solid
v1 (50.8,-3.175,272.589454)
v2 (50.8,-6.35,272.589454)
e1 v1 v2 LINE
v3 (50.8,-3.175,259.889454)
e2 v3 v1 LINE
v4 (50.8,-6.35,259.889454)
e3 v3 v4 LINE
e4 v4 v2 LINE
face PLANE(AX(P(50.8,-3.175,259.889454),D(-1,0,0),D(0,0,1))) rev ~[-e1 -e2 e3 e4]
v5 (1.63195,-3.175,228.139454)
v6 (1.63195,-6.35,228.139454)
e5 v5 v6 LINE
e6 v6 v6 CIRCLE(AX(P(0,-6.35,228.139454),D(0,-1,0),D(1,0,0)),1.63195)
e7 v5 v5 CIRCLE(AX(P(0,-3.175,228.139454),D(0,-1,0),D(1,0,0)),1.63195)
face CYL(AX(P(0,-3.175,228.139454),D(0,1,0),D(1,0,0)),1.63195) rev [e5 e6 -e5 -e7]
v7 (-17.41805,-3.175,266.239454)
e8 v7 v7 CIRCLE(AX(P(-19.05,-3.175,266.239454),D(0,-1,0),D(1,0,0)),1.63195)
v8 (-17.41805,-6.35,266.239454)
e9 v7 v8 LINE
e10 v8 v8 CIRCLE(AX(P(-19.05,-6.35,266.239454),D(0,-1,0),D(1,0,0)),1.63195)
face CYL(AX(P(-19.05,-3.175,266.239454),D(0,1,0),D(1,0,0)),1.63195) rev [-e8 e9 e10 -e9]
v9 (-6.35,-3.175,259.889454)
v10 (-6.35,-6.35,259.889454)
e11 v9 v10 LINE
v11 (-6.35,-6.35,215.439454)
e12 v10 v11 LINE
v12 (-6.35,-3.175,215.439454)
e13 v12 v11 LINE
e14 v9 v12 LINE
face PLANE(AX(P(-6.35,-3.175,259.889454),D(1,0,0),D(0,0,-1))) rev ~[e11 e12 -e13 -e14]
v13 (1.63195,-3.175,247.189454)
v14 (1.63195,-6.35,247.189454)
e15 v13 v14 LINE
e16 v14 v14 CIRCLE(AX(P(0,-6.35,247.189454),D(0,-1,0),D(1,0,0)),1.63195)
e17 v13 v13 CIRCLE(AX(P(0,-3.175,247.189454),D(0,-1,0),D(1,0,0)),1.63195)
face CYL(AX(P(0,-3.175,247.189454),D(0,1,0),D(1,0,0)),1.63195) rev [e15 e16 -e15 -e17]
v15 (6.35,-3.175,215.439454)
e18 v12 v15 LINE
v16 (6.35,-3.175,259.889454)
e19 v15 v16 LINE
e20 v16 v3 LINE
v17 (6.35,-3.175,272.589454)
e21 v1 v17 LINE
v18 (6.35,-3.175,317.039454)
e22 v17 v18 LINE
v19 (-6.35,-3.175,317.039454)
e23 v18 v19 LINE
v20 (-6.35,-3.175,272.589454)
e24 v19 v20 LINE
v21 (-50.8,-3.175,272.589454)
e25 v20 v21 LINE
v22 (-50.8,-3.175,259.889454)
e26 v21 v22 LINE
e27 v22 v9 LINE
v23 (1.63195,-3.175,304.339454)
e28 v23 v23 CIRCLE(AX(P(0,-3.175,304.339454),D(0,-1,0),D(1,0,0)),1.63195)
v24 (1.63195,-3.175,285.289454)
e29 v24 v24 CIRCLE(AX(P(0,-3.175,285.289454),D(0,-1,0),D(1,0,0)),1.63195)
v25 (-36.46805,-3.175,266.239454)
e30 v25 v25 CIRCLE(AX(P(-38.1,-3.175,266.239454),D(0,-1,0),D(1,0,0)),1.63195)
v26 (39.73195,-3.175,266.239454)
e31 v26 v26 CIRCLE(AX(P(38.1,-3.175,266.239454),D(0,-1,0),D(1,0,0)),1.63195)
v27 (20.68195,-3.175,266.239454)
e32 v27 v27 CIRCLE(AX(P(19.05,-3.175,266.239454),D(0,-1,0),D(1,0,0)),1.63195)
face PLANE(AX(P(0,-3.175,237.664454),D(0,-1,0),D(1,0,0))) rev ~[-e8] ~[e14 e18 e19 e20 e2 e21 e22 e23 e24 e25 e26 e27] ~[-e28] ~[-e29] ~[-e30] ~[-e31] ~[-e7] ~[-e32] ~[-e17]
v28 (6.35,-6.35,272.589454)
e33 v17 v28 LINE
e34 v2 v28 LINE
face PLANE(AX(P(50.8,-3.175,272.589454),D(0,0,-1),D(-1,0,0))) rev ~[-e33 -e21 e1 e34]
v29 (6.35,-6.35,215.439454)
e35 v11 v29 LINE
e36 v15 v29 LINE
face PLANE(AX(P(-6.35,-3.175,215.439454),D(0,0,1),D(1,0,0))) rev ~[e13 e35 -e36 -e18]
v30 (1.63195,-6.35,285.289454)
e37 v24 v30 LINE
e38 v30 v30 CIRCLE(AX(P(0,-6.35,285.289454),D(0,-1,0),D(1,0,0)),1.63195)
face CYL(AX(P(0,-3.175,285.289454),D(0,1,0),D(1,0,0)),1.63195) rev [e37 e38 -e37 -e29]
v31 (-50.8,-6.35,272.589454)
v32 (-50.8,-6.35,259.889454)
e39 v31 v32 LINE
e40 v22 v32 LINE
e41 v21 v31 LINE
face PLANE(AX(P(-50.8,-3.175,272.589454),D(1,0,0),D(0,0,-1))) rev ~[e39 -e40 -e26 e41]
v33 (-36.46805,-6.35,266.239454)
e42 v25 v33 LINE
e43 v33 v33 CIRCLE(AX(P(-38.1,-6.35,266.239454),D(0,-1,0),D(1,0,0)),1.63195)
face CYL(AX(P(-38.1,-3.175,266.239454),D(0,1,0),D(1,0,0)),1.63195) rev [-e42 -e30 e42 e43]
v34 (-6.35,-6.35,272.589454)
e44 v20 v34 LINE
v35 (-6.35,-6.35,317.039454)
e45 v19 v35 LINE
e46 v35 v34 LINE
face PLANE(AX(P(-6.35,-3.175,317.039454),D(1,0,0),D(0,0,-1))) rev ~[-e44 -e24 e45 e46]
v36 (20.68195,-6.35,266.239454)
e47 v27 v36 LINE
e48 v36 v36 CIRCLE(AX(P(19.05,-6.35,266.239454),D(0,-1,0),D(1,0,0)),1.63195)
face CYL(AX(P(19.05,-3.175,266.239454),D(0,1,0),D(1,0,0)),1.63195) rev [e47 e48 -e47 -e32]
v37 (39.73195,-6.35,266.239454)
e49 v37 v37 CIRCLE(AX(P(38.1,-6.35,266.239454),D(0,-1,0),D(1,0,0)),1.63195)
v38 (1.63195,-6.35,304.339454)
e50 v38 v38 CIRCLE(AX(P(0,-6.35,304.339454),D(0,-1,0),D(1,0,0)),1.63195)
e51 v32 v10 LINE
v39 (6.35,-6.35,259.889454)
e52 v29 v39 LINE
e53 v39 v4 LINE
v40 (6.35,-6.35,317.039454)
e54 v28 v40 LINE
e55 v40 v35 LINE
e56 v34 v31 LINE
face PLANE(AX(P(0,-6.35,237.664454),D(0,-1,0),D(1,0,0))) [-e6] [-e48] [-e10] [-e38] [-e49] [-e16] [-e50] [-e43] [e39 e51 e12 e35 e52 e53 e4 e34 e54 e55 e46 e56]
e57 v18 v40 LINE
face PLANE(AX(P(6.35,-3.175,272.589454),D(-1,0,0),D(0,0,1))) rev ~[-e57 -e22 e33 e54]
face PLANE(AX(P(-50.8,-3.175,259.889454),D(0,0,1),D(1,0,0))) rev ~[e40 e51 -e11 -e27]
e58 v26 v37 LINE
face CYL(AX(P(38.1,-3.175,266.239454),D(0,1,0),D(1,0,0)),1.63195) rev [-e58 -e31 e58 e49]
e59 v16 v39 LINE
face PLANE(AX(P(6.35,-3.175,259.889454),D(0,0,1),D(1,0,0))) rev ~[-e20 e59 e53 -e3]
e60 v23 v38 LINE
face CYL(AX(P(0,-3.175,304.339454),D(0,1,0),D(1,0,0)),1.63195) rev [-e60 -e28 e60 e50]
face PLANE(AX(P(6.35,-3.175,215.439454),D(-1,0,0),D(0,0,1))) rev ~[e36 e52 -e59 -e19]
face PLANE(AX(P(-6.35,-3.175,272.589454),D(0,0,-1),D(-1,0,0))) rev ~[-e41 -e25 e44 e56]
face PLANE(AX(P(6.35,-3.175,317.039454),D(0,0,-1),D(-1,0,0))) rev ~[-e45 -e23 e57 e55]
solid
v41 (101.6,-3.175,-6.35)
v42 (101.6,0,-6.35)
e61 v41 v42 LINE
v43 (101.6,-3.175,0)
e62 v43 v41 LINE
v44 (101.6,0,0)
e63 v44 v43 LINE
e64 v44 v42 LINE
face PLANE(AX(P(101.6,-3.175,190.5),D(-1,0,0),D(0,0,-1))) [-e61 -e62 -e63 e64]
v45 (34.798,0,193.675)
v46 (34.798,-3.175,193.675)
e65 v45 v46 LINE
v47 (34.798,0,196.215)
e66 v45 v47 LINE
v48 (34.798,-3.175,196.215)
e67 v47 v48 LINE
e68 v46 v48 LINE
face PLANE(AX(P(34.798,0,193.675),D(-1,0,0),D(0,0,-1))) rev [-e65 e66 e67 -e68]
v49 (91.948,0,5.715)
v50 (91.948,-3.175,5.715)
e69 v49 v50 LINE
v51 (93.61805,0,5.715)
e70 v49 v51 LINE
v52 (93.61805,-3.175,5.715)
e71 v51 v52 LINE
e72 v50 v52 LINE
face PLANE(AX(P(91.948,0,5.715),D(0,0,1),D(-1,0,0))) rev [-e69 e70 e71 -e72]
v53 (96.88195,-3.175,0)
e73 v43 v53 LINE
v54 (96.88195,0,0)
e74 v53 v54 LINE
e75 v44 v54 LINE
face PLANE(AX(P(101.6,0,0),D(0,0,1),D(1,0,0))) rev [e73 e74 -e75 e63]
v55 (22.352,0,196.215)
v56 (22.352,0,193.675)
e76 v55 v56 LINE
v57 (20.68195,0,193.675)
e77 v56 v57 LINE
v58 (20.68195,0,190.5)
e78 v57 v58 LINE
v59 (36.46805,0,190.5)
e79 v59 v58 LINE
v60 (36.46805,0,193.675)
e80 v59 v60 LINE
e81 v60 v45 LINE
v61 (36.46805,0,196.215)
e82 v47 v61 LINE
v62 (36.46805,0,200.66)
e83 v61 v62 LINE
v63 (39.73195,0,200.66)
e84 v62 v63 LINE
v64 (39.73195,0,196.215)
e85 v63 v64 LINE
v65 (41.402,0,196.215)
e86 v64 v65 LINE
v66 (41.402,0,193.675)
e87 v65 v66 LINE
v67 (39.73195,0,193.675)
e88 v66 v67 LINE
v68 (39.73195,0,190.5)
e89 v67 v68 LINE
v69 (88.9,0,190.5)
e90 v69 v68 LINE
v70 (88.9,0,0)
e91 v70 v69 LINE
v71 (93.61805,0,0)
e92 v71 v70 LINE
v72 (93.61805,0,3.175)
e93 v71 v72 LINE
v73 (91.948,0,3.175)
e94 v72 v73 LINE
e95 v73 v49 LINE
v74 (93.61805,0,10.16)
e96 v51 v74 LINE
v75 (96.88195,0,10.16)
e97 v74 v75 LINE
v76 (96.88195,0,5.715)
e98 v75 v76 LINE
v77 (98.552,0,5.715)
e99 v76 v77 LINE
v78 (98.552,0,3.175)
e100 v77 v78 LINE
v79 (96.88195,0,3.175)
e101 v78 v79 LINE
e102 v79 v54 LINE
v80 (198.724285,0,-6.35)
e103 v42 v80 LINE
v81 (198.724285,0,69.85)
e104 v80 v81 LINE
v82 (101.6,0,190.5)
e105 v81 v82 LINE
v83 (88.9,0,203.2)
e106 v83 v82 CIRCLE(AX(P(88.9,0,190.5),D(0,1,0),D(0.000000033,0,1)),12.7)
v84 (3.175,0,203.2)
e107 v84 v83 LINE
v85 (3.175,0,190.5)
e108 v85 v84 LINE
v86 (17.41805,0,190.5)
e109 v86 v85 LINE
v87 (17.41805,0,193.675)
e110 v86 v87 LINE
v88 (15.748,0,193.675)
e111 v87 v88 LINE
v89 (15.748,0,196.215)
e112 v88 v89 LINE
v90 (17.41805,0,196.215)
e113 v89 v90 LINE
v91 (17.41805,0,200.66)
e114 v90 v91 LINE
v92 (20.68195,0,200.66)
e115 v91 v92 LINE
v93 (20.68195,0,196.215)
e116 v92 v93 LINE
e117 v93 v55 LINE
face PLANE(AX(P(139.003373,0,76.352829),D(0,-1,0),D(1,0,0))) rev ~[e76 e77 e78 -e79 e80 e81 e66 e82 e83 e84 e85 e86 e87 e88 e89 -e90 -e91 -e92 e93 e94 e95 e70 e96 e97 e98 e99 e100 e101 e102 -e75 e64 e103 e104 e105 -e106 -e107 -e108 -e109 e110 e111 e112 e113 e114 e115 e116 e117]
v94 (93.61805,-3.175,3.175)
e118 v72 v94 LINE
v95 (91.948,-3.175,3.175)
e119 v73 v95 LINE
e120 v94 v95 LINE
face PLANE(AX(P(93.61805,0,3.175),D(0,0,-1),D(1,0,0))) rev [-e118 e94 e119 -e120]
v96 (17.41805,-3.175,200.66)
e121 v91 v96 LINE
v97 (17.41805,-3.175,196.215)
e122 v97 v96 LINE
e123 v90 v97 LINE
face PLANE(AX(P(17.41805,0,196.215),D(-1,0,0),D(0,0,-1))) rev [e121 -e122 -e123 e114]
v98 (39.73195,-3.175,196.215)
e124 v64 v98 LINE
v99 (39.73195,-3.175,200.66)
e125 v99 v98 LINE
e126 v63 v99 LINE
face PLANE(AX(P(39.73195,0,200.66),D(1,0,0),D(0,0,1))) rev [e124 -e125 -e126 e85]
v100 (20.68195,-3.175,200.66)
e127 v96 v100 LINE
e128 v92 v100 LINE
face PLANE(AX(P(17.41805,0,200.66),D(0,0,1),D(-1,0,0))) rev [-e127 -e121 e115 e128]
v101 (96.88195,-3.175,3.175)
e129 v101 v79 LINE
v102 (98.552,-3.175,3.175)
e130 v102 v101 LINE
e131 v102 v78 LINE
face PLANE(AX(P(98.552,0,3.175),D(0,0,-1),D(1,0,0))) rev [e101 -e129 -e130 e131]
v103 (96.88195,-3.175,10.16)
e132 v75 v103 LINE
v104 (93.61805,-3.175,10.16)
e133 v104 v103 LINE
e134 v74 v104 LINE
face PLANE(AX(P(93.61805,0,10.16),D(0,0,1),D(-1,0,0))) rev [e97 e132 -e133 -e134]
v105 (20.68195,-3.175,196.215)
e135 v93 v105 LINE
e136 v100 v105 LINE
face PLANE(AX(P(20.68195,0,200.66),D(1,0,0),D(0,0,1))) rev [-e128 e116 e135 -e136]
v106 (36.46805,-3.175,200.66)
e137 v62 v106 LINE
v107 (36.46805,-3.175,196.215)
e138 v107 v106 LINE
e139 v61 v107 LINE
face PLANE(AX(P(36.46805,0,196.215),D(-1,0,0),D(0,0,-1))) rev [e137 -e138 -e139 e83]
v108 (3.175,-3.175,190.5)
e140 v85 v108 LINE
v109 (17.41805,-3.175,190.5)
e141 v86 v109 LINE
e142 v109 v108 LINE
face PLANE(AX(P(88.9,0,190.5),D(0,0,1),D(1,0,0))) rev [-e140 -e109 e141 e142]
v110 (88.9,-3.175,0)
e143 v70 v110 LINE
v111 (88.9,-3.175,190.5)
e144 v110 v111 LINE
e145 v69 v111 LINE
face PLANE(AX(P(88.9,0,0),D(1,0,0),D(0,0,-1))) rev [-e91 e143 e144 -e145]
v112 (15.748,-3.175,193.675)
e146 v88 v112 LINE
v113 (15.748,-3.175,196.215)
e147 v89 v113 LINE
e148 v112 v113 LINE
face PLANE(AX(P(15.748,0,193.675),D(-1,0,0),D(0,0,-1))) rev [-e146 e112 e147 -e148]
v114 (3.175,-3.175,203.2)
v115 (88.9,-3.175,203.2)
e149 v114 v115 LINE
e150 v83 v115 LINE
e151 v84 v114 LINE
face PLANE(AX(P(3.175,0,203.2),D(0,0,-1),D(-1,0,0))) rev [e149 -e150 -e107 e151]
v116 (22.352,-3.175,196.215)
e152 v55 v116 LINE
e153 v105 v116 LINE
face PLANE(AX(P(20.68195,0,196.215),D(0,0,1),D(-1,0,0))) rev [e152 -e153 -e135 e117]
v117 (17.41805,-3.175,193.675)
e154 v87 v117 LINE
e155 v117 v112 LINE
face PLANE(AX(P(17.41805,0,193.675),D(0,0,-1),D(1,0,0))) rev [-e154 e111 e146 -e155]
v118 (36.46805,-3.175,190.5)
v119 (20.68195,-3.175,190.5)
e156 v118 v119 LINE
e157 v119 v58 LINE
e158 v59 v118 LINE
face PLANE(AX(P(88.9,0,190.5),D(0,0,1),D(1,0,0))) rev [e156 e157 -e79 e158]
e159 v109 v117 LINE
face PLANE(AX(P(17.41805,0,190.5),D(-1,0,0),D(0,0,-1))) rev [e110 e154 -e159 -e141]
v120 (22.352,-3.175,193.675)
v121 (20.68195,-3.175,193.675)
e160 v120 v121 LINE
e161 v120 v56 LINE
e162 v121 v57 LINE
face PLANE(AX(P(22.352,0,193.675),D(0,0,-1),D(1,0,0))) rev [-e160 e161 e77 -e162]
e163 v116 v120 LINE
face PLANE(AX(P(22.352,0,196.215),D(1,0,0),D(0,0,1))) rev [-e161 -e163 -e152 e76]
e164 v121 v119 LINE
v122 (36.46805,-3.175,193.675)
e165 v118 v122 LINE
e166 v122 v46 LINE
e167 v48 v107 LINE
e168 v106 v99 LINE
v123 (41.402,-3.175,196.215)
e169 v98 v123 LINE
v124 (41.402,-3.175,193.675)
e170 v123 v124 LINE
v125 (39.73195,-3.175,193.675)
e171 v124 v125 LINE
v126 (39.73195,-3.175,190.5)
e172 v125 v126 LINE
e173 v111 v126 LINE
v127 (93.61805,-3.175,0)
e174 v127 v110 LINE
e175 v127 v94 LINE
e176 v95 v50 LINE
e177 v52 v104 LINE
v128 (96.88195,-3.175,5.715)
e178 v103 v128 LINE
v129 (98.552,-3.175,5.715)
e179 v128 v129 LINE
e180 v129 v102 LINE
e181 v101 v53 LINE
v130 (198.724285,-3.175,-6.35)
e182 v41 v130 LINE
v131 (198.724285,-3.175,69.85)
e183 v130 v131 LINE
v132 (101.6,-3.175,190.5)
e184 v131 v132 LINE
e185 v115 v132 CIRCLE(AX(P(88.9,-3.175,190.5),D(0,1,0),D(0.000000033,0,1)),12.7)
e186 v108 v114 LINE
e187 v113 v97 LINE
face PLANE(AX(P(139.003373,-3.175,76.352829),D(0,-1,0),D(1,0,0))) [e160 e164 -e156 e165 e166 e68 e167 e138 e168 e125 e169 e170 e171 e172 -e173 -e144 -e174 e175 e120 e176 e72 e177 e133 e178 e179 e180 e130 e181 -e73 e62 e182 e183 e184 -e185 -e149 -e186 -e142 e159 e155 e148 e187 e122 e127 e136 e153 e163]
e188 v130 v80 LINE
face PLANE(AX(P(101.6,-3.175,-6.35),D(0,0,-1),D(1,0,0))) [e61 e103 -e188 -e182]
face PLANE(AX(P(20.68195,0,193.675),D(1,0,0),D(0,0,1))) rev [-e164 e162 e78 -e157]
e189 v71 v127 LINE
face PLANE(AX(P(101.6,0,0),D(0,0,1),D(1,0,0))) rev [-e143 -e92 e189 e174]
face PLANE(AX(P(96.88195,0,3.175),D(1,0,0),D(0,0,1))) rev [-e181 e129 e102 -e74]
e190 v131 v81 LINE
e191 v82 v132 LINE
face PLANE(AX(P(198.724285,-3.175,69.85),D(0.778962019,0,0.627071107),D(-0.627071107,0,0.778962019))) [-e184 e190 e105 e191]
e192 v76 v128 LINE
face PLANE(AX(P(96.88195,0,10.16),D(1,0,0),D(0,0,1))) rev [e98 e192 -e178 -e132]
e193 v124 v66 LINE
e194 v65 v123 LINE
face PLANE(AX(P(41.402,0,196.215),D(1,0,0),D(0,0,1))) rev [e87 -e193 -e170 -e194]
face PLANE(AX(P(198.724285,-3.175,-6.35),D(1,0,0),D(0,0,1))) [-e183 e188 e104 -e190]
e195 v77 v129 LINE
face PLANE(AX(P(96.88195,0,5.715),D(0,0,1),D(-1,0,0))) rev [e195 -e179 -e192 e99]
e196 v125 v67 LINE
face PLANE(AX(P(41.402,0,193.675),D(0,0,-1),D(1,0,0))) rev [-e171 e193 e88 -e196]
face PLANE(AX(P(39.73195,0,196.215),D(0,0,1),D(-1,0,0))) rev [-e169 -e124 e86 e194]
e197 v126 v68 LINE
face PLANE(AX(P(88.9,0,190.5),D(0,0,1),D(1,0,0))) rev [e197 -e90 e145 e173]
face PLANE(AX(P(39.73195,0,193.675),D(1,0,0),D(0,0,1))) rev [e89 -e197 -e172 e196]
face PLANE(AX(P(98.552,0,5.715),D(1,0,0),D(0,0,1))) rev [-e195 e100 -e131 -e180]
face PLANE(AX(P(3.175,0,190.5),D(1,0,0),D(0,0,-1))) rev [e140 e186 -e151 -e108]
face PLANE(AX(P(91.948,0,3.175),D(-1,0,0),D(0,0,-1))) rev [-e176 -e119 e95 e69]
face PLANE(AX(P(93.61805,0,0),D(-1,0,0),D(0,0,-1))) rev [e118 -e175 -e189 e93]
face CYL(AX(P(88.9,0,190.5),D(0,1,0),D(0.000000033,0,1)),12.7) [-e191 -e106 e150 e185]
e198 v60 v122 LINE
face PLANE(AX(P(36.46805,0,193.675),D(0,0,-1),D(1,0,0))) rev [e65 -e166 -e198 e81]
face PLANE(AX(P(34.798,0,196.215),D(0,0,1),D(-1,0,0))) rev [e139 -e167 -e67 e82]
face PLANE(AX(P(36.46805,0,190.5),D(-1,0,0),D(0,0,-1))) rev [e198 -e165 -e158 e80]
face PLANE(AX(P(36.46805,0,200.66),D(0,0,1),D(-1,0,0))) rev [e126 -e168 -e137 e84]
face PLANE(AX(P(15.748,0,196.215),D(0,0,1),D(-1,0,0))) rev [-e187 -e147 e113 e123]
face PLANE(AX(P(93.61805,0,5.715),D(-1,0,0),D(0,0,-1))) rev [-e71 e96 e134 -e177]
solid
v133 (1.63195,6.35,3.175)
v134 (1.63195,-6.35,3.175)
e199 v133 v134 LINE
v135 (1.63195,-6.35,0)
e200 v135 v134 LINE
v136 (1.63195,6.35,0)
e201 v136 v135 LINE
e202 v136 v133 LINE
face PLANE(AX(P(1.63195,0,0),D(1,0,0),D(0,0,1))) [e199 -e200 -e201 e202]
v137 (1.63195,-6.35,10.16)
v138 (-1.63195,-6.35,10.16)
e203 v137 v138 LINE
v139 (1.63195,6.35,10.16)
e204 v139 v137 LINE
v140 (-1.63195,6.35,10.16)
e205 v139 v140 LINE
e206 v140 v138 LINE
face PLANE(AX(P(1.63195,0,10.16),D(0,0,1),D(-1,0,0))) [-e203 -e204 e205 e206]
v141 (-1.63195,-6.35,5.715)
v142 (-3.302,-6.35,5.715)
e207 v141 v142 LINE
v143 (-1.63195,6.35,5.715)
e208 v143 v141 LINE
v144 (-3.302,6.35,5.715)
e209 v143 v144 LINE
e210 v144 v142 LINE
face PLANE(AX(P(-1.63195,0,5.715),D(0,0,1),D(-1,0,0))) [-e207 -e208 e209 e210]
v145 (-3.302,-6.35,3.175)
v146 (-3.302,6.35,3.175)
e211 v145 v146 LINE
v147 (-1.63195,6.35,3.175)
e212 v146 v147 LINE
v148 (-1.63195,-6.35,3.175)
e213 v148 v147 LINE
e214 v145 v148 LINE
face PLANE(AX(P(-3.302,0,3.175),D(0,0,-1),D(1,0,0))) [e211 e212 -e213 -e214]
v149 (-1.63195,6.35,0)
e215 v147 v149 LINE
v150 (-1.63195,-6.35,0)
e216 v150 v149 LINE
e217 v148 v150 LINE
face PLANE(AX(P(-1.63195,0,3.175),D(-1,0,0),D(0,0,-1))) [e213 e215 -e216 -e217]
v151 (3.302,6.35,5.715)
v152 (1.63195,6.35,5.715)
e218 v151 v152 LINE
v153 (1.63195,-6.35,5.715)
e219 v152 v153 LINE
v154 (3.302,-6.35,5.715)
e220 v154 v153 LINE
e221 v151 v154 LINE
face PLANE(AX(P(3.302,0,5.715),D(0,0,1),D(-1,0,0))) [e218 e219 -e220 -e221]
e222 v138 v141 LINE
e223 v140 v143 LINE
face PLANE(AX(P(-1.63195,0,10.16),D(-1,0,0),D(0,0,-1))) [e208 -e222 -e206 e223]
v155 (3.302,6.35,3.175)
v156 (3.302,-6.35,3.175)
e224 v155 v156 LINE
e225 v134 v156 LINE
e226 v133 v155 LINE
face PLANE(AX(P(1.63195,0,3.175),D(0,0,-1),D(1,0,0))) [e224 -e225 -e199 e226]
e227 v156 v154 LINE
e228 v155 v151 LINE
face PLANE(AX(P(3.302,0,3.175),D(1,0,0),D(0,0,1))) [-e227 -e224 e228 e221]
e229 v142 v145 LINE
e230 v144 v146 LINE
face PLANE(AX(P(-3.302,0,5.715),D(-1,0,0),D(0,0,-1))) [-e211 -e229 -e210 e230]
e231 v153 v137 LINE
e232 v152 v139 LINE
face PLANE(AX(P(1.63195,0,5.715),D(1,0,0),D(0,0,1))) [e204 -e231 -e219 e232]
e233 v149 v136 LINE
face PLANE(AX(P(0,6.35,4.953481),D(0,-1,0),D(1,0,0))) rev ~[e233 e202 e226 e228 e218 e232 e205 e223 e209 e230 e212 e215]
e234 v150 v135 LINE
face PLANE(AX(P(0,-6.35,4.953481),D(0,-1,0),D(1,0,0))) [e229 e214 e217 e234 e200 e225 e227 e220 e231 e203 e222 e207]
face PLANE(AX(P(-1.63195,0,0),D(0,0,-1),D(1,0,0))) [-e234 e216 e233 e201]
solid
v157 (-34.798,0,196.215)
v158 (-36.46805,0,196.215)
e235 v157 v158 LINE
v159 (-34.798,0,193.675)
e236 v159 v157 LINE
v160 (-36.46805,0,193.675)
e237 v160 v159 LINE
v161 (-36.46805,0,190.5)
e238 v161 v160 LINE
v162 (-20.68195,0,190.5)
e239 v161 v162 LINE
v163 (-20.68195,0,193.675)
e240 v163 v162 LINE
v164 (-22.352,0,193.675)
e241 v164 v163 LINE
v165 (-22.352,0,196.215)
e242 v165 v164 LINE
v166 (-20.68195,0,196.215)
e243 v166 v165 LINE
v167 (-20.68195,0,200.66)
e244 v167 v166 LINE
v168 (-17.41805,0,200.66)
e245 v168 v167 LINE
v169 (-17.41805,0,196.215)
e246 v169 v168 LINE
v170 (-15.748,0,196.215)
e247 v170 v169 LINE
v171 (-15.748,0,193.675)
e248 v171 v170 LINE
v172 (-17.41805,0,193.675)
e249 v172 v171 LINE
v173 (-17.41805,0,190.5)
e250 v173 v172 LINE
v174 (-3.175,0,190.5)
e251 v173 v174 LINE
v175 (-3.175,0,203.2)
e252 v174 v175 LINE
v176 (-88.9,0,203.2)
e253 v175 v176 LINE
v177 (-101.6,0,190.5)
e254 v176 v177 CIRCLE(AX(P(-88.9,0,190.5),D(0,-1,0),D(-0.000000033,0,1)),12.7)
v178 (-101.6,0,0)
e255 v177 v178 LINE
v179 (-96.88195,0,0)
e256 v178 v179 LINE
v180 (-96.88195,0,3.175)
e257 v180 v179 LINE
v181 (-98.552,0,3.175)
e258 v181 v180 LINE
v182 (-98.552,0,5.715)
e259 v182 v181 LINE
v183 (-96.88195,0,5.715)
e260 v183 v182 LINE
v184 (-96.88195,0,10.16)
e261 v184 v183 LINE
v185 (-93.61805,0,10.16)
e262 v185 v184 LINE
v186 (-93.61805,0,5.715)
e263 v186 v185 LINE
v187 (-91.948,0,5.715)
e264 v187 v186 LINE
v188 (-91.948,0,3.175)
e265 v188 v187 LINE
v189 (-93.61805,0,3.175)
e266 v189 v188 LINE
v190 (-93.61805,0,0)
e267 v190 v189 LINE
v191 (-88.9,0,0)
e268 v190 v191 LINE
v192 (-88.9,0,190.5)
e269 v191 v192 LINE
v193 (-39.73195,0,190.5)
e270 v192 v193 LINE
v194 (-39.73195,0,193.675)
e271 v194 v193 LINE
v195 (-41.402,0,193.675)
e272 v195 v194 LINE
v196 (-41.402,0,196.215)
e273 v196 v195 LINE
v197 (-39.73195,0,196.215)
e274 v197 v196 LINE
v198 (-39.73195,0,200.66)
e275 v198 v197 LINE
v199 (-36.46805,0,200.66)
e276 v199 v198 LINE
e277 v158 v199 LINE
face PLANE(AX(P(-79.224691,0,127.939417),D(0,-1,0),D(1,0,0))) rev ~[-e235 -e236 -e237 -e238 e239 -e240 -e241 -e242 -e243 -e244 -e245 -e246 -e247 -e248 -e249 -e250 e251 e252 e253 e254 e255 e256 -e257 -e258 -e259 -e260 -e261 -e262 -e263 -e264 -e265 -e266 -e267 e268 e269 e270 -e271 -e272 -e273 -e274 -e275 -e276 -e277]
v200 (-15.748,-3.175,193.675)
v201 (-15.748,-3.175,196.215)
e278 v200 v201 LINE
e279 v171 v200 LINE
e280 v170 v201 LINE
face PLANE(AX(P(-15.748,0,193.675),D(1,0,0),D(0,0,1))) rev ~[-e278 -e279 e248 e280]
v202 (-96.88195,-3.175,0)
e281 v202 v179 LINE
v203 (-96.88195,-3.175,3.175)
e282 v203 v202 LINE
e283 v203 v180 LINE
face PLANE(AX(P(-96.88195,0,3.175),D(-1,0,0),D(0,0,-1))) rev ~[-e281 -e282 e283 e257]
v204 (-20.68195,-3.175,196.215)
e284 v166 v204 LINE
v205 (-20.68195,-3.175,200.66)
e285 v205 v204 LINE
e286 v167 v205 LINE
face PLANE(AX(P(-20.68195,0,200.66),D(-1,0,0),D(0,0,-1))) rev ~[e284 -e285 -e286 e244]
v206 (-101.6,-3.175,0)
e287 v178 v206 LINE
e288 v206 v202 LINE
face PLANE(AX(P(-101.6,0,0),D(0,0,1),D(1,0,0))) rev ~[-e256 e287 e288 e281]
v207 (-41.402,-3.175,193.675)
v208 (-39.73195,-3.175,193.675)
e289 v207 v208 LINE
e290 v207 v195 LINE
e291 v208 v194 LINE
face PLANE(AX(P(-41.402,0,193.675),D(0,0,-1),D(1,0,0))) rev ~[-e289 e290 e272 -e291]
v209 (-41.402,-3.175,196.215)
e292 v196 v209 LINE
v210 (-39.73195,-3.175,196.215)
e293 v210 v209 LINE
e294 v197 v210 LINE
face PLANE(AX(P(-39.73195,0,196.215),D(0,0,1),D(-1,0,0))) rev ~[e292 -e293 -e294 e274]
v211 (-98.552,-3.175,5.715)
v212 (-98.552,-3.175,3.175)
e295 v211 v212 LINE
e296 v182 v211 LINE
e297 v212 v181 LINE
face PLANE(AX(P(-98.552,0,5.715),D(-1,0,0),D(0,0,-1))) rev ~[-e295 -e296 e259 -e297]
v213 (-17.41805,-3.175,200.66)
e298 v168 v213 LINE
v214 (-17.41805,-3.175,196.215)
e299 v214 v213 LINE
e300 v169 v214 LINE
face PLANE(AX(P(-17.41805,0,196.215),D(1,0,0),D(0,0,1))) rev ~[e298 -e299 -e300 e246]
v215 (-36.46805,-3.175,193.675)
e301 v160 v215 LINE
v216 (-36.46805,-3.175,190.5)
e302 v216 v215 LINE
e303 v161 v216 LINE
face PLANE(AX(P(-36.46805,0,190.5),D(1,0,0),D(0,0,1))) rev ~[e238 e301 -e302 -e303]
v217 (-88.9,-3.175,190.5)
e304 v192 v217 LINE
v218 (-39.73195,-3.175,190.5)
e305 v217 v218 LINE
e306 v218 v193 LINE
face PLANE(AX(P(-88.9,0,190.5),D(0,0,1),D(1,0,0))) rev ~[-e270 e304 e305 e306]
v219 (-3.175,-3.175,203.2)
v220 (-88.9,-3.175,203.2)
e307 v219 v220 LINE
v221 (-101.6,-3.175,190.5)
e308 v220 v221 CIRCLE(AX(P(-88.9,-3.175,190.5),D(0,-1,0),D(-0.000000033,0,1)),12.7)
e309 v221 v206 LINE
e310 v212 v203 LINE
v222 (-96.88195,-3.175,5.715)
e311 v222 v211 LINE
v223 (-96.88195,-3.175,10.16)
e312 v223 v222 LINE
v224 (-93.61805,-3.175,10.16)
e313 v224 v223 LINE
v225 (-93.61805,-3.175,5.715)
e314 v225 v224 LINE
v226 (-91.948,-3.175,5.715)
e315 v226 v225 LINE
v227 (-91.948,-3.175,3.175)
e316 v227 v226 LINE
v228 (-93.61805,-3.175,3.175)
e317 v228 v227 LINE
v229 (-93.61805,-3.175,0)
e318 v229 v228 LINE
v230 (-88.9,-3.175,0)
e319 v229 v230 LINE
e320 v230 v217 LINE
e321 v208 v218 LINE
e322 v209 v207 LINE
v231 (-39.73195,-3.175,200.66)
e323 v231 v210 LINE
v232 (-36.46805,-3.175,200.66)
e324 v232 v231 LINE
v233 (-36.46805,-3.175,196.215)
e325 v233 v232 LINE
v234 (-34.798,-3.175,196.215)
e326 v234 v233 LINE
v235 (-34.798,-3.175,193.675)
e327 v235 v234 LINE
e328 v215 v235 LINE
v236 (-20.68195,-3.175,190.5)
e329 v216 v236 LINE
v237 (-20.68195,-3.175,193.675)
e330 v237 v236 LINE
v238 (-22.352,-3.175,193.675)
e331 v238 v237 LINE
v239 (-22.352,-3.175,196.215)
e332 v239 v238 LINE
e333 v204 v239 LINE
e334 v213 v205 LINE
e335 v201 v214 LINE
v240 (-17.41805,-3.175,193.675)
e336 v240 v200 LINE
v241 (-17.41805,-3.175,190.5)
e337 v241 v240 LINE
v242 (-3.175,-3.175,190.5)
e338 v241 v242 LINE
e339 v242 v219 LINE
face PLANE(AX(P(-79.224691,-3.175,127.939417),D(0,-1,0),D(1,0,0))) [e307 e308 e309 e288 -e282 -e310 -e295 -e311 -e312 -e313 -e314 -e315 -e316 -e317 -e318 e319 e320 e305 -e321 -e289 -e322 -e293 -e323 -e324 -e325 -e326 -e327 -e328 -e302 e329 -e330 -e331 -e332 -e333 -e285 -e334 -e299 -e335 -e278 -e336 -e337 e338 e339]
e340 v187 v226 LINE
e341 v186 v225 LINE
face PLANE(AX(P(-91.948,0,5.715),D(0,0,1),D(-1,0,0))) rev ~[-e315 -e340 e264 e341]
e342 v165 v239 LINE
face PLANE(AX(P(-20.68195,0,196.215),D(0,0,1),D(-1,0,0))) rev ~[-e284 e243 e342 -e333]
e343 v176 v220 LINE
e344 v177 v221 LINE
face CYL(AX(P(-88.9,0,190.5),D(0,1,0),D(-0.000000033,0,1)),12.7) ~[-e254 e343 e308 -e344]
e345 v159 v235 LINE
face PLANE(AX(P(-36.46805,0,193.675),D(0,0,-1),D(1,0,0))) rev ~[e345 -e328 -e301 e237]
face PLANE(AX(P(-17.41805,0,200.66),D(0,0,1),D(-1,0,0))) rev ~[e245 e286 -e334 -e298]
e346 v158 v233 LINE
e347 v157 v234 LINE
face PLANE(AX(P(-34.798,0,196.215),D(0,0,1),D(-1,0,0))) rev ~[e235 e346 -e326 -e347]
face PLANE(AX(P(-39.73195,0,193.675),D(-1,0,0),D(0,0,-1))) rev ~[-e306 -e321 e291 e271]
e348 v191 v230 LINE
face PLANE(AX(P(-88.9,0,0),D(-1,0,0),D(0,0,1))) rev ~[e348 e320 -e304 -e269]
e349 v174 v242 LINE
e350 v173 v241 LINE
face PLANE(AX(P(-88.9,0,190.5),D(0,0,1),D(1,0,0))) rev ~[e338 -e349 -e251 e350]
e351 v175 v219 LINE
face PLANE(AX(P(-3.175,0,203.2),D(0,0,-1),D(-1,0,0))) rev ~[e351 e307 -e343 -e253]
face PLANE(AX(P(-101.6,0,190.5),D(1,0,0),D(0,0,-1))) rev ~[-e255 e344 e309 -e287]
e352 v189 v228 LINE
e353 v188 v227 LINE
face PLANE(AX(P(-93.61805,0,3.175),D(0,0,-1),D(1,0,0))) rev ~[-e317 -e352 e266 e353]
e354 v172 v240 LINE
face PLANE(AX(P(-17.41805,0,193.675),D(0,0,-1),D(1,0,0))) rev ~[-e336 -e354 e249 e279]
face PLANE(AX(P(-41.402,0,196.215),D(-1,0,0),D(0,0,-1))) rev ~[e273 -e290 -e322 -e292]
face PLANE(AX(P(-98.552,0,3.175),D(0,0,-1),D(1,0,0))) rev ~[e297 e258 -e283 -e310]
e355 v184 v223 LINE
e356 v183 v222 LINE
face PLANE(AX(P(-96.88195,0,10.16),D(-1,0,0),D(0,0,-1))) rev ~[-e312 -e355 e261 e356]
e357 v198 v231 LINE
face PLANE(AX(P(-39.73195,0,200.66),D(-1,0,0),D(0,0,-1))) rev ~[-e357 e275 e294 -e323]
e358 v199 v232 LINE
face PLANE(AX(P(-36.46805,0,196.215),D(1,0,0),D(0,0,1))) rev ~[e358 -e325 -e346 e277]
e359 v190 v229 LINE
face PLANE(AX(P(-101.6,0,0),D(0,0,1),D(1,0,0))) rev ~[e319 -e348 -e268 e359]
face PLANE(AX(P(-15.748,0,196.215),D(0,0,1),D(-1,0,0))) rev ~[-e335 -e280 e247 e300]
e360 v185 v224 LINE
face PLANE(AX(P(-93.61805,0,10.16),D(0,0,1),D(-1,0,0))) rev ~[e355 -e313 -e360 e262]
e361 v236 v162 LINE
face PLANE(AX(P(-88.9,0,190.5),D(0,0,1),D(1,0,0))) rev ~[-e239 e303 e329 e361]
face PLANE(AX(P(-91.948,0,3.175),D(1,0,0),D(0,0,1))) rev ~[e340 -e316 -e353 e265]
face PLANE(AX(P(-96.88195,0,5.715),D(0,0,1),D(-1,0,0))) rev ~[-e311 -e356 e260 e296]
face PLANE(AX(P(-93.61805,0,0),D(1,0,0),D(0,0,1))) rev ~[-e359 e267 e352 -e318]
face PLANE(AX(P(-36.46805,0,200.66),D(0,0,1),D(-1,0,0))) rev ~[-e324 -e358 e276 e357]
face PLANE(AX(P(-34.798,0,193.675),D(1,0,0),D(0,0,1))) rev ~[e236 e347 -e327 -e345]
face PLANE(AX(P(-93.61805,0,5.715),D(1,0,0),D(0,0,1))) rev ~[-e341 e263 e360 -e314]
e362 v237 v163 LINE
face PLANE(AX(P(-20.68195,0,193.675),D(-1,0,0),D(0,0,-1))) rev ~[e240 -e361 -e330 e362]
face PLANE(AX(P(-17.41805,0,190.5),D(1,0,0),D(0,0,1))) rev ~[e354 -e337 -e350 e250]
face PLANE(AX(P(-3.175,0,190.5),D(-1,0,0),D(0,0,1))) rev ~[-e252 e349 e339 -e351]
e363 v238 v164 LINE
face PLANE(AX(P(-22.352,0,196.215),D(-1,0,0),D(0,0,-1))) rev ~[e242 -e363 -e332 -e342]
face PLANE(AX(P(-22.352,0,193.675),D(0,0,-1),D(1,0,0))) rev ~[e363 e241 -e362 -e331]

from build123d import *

# Parameters (mm, degrees)
F3_DEPTH  = 6.35
F4_DEPTH  = 3.175
F13_DEPTH = 3.175
F14_R     = 1.63195
F15_DEPTH = 3.175


with BuildPart() as f3:
    # F2 (on Front) → F3 (new body, symmetric)
    with BuildSketch(Plane.XZ):
        Polygon((-1.63195, 0), (0, 0), (1.63195, 0), (1.63195, 3.175), (3.302, 3.175), (3.302, 5.715), (1.63195, 5.715), (1.63195, 10.16), (0, 10.16), (-1.63195, 10.16), (-1.63195, 5.715), (-3.302, 5.715), (-3.302, 3.175), (-1.63195, 3.175), align=None)
    extrude(amount=F3_DEPTH, both=True)


with BuildPart() as f4:
    # F1 (on Front) → F4 (new body)
    with BuildSketch(Plane.XZ):
        with BuildLine():
            ThreePointArc((-88.9, 203.2), (-97.880256, 199.480256), (-101.6, 190.5))
            Line((-101.6, 190.5), (-101.6, 0))
            Line((-101.6, 0), (-88.9, 0))
            Line((-88.9, 0), (-88.9, 177.8))
            Line((-88.9, 177.8), (-88.9, 190.5))
            Line((-88.9, 190.5), (-76.2, 190.5))
            Line((-76.2, 190.5), (-3.175, 190.5))
            Line((-3.175, 190.5), (-3.175, 203.2))
            Line((-3.175, 203.2), (-88.9, 203.2))
        make_face()
    extrude(amount=F4_DEPTH)


with BuildPart() as f5_1:
    # F5: copy of F3
    add(f3.part.moved(Location((-95.25, 0, 0))))


with BuildPart() as f4_1:
    add(f4.part)

    # F6: cut F5_1
    add(f5_1.part, mode=Mode.SUBTRACT)


with BuildPart() as f7_1:
    # F7: copy of F3
    add(f3.part.moved(Location((-19.05, 0, 190.5))))


with BuildPart() as f4_2:
    add(f4_1.part)

    # F8: cut F7_1
    add(f7_1.part, mode=Mode.SUBTRACT)


with BuildPart() as f9_1:
    # F9: copy of F3
    add(f3.part.moved(Location((-38.1, 0, 190.5))))


with BuildPart() as f4_3:
    add(f4_2.part)

    # F10: cut F9_1
    add(f9_1.part, mode=Mode.SUBTRACT)


with BuildPart() as f11_1:
    # F11: instance of F4
    add(f4_3.part.mirror(Plane.YZ))

    # F12 (on face) → F13 (join)
    with BuildSketch(Plane.XZ.offset(3.175)):
        Polygon((198.724285, 69.85), (101.6, 190.5), (101.6, 0), (101.6, -6.35), (198.724285, -6.35), (198.724285, 0), align=None)
    extrude(amount=-F13_DEPTH)


with BuildPart() as f15:
    # F14 (on face) → F15 (new body)
    with BuildSketch(Plane.XZ.offset(3.175)):
        Polygon((6.35, 259.889454), (0, 259.889454), (-6.35, 259.889454), (-6.35, 215.439454), (6.35, 215.439454), align=None)
        with Locations((0, 228.139454)):
            Circle(F14_R, mode=Mode.SUBTRACT)
        with Locations((0, 247.189454)):
            Circle(F14_R, mode=Mode.SUBTRACT)
        Polygon((-50.8, 259.889454), (-6.35, 259.889454), (-6.35, 266.239454), (-6.35, 272.589454), (-50.8, 272.589454), align=None)
        with Locations((-38.1, 266.239454)):
            Circle(F14_R, mode=Mode.SUBTRACT)
        with Locations((-19.05, 266.239454)):
            Circle(F14_R, mode=Mode.SUBTRACT)
        Polygon((-6.35, 259.889454), (0, 259.889454), (6.35, 259.889454), (6.35, 266.239454), (6.35, 272.589454), (0, 272.589454), (-6.35, 272.589454), (-6.35, 266.239454), align=None)
        Polygon((6.35, 266.239454), (6.35, 259.889454), (50.8, 259.889454), (50.8, 272.589454), (6.35, 272.589454), align=None)
        with Locations((19.05, 266.239454)):
            Circle(F14_R, mode=Mode.SUBTRACT)
        with Locations((38.1, 266.239454)):
            Circle(F14_R, mode=Mode.SUBTRACT)
        Polygon((-6.35, 317.039454), (-6.35, 272.589454), (0, 272.589454), (6.35, 272.589454), (6.35, 317.039454), align=None)
        with Locations((0, 285.289454)):
            Circle(F14_R, mode=Mode.SUBTRACT)
        with Locations((0, 304.339454)):
            Circle(F14_R, mode=Mode.SUBTRACT)
    extrude(amount=F15_DEPTH)


solid = Compound([f3.part, f4_3.part, f11_1.part, f15.part])
